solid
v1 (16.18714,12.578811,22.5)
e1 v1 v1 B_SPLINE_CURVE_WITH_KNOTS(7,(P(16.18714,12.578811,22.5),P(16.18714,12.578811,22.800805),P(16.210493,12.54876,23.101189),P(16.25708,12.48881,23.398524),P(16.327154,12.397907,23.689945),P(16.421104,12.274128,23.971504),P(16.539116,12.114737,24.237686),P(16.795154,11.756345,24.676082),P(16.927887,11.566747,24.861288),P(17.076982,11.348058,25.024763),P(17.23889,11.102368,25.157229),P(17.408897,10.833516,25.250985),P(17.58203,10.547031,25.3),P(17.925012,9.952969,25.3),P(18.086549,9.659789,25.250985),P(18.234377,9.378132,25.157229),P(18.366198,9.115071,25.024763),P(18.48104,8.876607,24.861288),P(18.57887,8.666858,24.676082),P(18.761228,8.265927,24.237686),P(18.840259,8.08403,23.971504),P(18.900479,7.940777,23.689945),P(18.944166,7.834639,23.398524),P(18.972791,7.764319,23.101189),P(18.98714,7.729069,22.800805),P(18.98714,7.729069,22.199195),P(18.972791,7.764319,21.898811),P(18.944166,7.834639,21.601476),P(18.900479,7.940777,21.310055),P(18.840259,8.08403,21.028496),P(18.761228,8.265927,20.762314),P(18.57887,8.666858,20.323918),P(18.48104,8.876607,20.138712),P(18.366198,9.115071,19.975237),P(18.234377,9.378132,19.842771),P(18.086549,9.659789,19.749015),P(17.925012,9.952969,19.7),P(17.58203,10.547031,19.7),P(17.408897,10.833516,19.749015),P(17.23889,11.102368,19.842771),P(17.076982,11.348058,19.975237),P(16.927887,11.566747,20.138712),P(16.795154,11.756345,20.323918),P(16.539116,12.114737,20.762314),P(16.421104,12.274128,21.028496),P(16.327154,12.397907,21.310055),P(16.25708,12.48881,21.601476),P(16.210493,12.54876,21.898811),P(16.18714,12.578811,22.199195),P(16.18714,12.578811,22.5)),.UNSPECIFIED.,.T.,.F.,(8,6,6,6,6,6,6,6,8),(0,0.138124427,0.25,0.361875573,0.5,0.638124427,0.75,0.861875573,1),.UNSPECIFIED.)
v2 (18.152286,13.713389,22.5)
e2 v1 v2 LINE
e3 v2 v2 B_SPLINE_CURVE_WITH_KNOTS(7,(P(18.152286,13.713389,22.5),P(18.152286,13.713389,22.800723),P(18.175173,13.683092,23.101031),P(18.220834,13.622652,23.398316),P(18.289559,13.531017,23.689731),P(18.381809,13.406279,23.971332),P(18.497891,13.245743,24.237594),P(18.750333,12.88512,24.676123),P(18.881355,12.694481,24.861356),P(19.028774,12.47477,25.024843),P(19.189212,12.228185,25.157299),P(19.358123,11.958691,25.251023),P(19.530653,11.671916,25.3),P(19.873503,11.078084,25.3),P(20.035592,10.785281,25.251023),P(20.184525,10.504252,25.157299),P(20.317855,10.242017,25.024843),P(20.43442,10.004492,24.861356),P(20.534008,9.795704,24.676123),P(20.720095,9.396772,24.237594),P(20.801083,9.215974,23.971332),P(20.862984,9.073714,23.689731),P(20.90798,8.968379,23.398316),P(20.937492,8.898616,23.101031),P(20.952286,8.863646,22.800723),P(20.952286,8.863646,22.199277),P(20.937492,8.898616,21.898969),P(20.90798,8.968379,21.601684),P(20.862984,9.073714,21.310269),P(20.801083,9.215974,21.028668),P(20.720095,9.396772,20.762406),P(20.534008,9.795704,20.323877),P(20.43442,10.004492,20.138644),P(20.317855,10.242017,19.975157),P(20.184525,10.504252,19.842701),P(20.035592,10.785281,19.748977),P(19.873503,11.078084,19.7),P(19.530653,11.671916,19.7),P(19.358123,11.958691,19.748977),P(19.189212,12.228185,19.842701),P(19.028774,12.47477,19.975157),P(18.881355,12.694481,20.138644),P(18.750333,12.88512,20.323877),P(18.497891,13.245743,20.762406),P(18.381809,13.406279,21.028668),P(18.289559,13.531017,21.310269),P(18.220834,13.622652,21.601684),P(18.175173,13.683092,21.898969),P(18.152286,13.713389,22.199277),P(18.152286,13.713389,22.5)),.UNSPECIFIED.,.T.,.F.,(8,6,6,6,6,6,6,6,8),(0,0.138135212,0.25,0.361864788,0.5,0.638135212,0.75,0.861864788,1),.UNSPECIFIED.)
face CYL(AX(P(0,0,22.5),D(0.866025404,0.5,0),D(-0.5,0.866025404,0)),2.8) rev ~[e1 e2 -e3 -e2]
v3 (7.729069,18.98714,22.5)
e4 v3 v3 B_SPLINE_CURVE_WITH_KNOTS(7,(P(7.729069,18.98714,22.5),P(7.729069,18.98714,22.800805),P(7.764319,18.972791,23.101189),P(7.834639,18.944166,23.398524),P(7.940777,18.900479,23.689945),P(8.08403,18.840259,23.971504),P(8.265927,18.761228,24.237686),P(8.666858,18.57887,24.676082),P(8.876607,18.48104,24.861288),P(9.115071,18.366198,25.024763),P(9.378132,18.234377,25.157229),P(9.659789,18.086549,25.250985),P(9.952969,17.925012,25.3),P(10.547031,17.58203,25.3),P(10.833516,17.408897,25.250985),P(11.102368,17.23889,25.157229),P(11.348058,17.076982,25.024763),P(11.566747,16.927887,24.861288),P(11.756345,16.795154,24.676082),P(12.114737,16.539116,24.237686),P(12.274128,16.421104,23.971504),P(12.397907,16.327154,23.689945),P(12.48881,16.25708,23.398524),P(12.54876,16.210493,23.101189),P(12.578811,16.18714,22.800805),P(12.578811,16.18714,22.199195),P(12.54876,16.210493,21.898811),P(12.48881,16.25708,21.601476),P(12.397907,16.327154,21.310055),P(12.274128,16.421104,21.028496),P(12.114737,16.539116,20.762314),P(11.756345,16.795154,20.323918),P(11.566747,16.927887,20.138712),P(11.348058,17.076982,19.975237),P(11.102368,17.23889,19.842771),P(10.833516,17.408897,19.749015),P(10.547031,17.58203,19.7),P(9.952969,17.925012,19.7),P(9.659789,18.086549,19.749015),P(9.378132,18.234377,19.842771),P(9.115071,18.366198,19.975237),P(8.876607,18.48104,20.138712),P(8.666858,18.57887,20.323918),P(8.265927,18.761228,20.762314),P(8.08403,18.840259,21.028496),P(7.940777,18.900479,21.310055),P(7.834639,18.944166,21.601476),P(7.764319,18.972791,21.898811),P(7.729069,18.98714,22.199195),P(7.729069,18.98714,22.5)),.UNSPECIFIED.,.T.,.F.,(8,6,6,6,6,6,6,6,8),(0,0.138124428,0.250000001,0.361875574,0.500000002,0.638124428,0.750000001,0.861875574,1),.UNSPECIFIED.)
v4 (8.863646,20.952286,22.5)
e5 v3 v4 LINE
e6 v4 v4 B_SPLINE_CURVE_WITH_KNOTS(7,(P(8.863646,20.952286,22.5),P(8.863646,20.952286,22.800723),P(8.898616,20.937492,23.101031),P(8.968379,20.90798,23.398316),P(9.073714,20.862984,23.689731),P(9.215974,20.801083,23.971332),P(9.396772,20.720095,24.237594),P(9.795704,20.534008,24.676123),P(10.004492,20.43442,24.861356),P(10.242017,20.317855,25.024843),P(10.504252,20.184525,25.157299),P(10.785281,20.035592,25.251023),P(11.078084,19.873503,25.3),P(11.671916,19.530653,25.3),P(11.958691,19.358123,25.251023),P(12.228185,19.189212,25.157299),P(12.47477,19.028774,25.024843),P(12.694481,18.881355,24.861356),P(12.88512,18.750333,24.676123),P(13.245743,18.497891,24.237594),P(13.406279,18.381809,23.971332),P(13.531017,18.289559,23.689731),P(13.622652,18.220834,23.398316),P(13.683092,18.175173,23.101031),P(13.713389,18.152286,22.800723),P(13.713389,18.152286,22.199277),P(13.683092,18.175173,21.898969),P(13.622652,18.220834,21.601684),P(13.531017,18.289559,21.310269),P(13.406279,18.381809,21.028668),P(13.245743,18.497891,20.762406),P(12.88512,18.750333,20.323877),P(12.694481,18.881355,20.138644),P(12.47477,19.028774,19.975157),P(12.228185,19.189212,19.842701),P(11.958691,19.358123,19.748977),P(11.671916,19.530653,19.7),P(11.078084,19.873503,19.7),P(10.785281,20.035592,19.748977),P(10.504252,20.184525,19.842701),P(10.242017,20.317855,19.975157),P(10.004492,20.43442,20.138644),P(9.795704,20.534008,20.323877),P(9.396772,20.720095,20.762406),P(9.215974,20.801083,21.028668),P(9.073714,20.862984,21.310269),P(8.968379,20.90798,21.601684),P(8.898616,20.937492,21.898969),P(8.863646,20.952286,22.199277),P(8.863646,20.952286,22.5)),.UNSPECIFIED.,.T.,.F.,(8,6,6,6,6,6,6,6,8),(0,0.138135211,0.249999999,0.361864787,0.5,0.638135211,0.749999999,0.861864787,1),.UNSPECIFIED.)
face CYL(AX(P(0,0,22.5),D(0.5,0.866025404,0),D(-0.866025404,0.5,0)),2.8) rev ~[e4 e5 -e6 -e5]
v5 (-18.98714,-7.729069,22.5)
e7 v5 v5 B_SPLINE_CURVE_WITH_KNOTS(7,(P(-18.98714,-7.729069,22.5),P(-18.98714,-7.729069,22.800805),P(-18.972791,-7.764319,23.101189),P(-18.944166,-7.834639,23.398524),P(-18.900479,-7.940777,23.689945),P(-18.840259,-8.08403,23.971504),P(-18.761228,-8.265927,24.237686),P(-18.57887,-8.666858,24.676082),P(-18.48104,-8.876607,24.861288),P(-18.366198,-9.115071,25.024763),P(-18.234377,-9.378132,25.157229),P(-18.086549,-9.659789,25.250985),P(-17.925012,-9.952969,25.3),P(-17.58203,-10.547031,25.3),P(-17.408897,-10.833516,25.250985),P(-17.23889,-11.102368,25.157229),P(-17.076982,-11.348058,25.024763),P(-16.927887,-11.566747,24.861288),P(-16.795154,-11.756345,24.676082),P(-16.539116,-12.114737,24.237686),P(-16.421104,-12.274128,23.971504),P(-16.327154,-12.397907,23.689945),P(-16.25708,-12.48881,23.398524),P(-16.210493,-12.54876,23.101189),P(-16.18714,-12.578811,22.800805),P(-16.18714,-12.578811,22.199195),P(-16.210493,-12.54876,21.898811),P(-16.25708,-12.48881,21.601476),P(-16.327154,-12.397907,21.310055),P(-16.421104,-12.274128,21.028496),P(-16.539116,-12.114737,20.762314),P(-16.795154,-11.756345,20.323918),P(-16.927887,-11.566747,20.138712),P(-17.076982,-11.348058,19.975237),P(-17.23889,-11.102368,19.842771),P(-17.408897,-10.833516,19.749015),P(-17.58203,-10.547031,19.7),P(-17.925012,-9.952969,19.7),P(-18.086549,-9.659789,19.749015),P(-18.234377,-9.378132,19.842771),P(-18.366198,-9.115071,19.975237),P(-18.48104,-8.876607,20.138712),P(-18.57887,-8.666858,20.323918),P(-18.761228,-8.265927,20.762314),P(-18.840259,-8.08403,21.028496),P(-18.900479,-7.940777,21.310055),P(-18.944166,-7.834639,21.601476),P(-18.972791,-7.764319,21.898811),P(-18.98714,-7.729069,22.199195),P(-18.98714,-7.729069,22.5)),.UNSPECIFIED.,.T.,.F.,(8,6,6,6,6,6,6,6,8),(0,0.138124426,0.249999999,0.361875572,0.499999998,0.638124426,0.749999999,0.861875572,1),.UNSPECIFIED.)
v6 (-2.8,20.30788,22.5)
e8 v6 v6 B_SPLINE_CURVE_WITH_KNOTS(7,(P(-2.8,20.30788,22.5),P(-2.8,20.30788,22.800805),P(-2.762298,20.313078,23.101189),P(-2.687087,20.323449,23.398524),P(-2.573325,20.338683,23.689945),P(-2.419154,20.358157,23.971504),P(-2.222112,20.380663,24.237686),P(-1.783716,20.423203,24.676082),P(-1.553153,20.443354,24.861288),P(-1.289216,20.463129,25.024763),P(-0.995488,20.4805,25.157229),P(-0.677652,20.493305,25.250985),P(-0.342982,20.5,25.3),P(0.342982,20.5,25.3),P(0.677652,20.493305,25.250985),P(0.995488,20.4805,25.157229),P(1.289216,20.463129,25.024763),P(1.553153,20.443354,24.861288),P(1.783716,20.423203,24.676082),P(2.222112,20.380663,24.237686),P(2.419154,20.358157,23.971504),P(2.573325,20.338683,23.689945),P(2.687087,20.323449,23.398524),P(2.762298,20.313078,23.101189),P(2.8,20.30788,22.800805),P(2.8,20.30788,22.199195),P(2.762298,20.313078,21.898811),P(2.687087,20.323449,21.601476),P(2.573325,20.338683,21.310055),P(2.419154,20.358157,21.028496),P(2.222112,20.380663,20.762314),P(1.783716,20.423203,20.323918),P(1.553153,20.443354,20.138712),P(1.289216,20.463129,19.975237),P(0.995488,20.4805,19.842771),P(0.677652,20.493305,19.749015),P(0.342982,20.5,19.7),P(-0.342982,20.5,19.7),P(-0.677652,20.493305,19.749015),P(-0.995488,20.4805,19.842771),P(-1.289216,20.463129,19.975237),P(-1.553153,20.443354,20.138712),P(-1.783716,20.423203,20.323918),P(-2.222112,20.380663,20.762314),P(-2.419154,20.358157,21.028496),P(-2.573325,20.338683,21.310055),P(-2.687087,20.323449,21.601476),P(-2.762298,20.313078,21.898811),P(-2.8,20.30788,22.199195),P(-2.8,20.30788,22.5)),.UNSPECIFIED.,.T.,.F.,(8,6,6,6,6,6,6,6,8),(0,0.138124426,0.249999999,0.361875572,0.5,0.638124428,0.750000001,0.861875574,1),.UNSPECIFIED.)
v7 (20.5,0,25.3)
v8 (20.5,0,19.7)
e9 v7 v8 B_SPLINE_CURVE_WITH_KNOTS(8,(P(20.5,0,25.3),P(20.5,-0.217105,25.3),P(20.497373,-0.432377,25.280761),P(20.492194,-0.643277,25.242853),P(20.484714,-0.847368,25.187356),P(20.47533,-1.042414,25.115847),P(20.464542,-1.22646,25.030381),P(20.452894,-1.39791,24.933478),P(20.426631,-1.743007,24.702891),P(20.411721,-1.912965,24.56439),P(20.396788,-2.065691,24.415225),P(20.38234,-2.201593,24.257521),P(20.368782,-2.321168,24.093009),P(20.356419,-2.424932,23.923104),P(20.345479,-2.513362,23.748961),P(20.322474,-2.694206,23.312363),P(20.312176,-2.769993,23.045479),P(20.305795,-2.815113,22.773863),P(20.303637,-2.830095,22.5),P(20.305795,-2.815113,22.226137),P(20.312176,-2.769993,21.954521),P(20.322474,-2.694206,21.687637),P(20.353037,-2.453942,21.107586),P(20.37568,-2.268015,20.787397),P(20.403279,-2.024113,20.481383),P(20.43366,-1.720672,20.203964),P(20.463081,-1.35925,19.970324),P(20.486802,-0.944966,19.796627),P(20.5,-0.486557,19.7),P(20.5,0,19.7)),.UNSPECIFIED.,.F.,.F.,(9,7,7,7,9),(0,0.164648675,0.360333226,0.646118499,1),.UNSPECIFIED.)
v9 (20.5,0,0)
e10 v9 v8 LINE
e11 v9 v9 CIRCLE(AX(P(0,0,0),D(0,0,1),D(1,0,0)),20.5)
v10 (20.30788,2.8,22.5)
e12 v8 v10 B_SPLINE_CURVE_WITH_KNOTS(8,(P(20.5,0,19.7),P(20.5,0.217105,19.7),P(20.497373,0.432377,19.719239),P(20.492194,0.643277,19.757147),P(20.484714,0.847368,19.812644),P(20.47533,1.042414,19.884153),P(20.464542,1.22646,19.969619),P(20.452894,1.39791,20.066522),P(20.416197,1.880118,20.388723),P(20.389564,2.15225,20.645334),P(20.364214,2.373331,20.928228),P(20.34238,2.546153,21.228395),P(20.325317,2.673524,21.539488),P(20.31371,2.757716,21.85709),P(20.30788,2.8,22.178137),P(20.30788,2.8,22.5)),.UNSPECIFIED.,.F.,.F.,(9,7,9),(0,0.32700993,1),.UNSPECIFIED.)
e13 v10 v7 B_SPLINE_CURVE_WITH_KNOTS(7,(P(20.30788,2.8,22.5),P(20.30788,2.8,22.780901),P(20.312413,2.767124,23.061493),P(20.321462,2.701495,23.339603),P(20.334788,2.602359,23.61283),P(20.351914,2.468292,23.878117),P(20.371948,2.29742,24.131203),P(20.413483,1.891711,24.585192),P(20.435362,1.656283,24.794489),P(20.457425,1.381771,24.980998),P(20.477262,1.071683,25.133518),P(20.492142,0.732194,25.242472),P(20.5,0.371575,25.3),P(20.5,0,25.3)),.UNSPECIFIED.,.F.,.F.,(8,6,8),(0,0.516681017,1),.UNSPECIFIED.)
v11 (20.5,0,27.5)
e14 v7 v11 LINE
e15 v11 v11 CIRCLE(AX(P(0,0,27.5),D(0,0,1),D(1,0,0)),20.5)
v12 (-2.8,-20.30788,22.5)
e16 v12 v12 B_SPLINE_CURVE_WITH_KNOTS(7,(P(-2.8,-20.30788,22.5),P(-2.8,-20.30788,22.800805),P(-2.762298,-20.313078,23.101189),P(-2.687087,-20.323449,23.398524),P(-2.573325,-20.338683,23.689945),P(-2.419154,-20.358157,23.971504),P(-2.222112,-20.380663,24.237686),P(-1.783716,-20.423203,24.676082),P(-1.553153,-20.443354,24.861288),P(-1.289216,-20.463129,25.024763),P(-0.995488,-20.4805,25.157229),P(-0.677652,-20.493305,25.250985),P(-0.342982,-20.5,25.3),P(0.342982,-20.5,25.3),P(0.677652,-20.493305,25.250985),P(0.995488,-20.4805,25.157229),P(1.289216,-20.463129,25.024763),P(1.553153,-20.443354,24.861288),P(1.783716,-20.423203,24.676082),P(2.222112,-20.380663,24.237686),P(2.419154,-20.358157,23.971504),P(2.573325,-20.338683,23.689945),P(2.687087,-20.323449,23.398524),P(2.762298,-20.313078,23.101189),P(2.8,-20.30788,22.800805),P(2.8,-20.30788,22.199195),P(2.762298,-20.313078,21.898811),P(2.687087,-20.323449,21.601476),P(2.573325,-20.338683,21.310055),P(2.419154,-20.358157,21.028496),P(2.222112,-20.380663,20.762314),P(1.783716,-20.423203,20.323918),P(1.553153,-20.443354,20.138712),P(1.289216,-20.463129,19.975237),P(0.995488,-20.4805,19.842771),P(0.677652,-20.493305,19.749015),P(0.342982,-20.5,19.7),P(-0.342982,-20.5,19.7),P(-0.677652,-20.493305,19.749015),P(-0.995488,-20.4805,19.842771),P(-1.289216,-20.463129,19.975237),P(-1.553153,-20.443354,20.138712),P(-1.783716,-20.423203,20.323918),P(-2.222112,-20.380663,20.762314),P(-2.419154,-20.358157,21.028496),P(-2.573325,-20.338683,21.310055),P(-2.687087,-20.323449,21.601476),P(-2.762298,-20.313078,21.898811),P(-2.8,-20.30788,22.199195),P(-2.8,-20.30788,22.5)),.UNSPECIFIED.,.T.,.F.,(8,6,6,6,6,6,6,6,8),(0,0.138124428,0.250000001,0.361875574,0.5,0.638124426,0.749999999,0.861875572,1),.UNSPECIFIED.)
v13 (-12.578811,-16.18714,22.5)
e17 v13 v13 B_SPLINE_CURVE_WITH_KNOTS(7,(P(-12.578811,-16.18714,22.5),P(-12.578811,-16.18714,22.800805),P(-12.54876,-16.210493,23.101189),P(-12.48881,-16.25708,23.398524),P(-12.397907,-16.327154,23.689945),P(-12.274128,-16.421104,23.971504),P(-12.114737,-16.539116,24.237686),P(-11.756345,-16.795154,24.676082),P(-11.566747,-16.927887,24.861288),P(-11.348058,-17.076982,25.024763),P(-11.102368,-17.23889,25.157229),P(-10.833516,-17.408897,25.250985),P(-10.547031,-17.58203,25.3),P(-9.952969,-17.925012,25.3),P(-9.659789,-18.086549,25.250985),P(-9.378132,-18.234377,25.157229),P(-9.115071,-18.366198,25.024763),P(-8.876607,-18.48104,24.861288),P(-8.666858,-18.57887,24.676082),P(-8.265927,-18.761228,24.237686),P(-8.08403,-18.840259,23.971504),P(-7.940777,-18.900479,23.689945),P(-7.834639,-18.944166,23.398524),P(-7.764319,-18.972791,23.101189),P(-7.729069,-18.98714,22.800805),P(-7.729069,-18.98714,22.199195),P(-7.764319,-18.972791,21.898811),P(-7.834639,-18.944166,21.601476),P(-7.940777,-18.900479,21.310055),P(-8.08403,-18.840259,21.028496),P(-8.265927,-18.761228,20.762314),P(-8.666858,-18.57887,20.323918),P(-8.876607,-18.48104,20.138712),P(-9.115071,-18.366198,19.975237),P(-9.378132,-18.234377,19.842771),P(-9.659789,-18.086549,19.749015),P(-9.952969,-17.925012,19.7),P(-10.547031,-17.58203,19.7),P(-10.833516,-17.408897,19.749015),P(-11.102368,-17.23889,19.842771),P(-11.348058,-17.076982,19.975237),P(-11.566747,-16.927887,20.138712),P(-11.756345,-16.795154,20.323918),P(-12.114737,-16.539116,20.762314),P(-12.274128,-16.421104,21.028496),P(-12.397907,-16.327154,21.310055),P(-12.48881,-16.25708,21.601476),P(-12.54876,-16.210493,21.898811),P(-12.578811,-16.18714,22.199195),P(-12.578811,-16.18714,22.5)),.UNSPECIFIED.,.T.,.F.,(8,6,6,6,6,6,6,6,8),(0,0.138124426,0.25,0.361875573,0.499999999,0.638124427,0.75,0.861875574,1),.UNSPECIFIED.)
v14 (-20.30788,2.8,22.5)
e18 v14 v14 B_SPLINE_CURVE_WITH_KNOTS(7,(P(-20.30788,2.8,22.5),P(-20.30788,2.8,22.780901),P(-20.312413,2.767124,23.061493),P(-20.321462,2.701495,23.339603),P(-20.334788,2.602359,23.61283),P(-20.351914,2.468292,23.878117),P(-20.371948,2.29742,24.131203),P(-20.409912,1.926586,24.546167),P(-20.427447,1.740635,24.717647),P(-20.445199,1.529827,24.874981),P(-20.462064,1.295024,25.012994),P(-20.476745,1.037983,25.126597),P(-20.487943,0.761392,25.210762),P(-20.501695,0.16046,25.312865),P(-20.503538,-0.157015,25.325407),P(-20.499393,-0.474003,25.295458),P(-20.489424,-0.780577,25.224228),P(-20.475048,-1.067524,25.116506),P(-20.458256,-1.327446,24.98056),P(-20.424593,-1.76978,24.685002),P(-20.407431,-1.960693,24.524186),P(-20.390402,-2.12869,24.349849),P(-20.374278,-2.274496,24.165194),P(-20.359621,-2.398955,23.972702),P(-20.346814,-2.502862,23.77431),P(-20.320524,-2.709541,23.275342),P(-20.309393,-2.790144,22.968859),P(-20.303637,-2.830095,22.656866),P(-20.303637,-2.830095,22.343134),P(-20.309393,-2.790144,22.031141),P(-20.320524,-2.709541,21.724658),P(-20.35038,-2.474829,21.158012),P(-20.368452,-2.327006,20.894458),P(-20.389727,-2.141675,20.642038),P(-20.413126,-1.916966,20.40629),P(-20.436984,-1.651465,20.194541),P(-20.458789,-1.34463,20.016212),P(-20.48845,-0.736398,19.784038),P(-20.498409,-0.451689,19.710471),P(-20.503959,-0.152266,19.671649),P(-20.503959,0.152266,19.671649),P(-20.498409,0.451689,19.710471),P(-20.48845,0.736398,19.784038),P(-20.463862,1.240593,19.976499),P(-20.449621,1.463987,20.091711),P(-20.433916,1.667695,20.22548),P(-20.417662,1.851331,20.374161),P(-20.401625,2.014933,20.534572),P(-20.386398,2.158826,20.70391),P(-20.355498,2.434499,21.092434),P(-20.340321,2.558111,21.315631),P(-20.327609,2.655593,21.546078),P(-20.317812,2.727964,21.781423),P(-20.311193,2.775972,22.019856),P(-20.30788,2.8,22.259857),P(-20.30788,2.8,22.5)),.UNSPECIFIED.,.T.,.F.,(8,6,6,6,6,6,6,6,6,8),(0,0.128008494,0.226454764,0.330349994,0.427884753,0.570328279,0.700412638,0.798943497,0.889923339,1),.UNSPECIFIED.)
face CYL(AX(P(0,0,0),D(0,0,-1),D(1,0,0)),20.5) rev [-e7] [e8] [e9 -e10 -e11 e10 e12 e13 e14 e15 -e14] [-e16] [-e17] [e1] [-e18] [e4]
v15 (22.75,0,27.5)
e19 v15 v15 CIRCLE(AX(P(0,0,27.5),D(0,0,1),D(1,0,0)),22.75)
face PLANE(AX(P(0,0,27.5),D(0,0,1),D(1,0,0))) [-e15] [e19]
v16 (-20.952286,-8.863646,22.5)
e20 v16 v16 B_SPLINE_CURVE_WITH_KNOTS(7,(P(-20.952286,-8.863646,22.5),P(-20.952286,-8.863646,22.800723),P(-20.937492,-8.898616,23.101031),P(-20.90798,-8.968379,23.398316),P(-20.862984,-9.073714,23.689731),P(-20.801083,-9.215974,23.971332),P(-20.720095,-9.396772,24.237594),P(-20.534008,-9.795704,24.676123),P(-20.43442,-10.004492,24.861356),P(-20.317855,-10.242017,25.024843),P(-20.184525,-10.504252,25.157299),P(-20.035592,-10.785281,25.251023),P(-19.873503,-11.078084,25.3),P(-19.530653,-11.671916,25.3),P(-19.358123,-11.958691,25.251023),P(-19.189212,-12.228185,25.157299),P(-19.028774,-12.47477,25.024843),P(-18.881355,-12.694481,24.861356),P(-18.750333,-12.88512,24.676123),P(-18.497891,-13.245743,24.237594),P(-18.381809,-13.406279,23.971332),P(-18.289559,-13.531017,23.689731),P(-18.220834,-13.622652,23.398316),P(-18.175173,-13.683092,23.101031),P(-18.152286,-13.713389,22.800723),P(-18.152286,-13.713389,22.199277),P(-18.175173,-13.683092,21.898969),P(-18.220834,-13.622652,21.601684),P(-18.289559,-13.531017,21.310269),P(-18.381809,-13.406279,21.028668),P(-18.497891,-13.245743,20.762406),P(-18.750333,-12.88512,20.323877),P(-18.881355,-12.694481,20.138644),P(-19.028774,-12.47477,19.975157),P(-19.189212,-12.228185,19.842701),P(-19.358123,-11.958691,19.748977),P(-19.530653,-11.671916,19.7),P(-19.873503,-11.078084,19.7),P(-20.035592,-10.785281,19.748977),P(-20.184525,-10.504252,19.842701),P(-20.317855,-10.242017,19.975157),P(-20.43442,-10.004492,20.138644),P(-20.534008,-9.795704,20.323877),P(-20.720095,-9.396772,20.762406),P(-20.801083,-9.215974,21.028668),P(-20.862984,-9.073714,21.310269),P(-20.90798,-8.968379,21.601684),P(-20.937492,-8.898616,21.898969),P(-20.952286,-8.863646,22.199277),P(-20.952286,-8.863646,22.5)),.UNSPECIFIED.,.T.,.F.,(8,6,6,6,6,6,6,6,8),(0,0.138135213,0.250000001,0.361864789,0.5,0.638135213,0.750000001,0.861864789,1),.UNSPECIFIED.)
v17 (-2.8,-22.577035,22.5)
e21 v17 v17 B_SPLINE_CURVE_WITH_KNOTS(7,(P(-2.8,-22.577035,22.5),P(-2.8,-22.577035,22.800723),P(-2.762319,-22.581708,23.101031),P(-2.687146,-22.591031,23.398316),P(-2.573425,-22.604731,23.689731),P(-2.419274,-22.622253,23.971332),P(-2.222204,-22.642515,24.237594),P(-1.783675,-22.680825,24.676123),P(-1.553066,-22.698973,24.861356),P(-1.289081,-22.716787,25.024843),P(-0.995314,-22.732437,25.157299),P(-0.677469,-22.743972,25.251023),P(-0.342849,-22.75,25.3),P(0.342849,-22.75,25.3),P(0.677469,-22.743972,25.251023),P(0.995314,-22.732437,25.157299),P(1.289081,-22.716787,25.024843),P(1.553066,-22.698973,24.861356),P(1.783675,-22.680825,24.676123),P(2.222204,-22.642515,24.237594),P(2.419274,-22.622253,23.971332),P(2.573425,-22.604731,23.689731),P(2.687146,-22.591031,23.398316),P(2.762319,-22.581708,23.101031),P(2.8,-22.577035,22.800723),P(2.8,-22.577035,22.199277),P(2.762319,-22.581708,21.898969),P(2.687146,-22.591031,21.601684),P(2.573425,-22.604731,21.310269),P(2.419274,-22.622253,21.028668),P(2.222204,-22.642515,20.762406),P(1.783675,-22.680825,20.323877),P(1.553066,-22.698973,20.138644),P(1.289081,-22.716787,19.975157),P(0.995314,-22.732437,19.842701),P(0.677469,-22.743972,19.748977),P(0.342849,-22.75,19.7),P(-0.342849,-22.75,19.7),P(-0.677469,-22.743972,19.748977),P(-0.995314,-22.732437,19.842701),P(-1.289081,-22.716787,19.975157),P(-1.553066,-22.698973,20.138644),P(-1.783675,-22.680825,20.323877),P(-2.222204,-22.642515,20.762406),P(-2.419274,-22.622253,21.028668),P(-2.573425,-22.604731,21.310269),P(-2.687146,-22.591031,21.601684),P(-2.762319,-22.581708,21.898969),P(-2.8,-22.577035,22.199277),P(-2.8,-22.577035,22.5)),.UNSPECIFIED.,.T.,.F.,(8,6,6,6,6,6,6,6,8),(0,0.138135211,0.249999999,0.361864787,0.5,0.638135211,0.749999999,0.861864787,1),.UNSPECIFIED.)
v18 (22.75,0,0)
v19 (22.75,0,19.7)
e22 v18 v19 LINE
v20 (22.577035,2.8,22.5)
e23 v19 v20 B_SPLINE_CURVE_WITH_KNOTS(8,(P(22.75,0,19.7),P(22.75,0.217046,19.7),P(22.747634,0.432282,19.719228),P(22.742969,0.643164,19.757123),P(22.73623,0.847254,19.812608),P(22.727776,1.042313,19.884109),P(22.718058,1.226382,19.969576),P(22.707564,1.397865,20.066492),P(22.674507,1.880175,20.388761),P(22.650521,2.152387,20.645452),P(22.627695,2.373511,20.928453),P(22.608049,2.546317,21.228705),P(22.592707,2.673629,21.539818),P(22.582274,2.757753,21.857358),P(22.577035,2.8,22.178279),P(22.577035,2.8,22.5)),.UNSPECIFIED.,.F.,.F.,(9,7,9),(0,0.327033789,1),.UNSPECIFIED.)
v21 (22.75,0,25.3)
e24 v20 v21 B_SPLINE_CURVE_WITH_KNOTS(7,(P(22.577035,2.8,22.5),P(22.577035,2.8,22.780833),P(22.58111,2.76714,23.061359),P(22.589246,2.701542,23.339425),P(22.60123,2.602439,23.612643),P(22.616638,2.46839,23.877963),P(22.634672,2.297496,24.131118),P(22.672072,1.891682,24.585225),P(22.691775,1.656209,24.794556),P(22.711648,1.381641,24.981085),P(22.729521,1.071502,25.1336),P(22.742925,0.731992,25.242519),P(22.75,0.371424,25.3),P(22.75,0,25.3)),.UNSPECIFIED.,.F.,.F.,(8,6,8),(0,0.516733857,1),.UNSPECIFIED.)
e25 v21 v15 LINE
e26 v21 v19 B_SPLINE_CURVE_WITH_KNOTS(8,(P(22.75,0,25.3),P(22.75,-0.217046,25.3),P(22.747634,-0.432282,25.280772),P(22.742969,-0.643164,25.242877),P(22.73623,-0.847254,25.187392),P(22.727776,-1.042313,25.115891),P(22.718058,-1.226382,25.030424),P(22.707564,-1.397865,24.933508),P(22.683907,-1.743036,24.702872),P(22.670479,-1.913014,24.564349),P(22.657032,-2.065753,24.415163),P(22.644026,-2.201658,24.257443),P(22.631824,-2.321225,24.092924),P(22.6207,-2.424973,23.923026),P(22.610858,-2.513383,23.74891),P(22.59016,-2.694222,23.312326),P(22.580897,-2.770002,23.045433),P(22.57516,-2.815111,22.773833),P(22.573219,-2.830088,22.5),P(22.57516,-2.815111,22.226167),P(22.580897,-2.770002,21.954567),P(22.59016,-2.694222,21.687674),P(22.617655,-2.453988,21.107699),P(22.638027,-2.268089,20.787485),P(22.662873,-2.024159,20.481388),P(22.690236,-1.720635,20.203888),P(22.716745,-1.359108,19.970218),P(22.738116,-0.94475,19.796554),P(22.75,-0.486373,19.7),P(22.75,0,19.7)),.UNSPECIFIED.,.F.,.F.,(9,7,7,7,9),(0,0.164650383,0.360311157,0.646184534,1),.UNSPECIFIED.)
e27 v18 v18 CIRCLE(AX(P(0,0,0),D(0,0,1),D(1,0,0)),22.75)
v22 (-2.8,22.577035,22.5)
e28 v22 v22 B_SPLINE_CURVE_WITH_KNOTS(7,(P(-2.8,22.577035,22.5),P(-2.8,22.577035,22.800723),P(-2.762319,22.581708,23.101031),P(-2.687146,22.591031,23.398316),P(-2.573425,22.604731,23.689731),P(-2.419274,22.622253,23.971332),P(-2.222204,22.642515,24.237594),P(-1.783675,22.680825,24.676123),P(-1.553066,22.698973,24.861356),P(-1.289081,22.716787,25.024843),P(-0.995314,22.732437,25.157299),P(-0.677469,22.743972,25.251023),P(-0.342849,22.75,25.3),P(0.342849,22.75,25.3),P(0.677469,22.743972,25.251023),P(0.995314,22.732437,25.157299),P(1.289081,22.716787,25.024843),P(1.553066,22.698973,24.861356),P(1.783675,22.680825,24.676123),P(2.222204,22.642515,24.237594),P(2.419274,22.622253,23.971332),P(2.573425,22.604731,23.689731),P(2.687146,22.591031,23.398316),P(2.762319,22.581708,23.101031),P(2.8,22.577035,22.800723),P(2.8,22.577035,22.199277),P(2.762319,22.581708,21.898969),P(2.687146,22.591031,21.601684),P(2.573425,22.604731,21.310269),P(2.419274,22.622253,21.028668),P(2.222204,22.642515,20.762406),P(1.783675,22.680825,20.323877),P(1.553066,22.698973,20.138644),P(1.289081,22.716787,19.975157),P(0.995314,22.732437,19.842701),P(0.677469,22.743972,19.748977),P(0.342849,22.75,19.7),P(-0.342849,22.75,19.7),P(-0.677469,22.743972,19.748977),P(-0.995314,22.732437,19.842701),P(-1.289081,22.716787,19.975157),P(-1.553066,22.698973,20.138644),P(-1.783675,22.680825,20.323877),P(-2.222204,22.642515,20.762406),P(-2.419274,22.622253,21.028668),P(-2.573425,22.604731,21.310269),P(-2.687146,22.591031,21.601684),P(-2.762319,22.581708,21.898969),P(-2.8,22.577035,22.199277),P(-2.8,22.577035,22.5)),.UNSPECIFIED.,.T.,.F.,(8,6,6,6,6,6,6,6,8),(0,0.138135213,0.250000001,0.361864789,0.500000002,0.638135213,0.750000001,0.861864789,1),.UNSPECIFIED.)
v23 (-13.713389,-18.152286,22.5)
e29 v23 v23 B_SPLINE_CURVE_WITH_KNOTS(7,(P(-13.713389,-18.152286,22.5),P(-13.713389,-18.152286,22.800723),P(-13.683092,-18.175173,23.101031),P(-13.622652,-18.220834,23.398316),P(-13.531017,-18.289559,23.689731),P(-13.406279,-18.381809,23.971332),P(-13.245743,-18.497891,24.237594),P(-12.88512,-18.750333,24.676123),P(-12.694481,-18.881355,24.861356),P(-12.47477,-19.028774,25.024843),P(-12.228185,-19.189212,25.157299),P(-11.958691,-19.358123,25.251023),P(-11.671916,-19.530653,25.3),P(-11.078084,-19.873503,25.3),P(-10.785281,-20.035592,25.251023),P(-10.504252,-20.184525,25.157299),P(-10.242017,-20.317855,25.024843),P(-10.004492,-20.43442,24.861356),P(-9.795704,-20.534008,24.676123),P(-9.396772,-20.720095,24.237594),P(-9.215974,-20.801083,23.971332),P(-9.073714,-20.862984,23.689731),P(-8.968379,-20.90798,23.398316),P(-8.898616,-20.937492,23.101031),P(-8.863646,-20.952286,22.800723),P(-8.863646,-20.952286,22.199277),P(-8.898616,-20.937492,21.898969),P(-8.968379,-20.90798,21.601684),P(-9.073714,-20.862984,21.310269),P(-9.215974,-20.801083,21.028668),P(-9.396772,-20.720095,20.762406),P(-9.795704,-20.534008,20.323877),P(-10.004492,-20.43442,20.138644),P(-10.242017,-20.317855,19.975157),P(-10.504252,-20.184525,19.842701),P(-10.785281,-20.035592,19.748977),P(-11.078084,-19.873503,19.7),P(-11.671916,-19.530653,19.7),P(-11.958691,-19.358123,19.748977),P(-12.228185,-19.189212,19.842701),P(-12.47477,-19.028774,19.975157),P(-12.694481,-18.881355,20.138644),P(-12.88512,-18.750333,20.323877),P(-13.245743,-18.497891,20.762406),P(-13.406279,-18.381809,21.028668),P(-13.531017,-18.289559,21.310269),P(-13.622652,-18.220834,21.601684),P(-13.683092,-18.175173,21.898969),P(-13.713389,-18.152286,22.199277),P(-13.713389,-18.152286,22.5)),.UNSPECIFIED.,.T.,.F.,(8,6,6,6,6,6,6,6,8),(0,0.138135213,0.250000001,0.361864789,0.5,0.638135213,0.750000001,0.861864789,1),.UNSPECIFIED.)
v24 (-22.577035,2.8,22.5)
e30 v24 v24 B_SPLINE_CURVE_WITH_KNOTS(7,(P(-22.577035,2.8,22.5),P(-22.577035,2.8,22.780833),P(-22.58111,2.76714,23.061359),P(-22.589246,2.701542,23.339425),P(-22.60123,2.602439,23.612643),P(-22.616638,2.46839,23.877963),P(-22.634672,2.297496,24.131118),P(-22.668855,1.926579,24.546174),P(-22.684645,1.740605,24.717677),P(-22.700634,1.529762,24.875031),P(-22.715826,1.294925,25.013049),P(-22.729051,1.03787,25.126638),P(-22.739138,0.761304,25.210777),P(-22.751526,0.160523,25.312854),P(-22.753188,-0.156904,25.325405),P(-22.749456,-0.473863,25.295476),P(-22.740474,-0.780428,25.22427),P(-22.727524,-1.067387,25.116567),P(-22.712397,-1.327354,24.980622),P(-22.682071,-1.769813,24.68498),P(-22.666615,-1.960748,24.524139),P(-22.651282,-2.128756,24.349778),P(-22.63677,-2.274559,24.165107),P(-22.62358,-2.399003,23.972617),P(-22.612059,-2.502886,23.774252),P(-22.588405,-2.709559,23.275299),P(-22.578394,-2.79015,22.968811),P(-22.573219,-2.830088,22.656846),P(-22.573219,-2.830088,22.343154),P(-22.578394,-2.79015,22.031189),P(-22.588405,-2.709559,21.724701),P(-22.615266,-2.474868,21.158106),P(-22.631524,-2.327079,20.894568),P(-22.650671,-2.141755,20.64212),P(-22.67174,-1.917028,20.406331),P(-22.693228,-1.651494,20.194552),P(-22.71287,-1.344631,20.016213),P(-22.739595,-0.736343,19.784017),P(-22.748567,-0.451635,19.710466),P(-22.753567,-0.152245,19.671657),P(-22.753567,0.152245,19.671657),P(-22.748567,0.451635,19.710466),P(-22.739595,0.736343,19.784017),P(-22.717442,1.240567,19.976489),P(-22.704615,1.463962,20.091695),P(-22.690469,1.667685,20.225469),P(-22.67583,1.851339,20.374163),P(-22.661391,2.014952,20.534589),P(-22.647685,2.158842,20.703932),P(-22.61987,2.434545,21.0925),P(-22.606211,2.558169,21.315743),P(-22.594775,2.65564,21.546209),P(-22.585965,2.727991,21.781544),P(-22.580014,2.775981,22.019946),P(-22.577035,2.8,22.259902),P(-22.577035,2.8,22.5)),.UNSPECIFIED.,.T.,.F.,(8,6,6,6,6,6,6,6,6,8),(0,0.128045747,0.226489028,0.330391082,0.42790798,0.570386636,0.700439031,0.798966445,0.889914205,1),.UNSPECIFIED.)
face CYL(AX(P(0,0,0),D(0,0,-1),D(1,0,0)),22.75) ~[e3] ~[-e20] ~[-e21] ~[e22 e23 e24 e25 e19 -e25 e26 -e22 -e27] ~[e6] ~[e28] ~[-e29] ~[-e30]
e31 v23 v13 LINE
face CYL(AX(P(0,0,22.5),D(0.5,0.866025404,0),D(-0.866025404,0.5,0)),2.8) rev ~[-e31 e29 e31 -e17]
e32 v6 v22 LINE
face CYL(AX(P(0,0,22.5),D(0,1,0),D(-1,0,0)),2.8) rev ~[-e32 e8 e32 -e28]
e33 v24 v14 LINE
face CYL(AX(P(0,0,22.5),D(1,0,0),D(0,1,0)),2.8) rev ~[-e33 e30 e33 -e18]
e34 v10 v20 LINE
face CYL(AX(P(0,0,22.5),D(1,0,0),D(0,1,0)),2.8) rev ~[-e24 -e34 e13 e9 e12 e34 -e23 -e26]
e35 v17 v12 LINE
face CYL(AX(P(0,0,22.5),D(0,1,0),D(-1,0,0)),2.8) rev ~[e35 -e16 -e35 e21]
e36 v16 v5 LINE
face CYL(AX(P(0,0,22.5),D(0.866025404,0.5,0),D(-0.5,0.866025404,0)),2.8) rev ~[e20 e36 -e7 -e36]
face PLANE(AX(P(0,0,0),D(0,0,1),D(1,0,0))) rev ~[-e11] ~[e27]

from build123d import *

# Parameters (mm, degrees)
F0_R     = 22.75
F0_R_2   = 20.5
F1_DEPTH = 27.5
F2_R     = 2.8
F3_DEPTH = 25
F4_COUNT = 4
F4_ANGLE = 90


with BuildPart() as f1:
    # F0 (on Top) → F1 (new body)
    with BuildSketch(Plane.XY):
        Circle(F0_R)
        Circle(F0_R_2, mode=Mode.SUBTRACT)
    extrude(amount=F1_DEPTH)


with BuildPart() as f3:
    # F2 (on Right) → F3 (new body, symmetric)
    with BuildSketch(Plane.YZ):
        with Locations((0, 22.5)):
            Circle(F2_R)
    extrude(amount=F3_DEPTH, both=True)


with BuildPart() as f4_1:
    # F4: instance of F3
    add(f3.part.rotate(Axis((0, 0, 0), (0, 0, 1)), 1 * F4_ANGLE / (F4_COUNT - 1)))


with BuildPart() as f4_2:
    # F4: instance of F3
    add(f3.part.rotate(Axis((0, 0, 0), (0, 0, 1)), 2 * F4_ANGLE / (F4_COUNT - 1)))


with BuildPart() as f4_3:
    # F4: instance of F3
    add(f3.part.rotate(Axis((0, 0, 0), (0, 0, 1)), 3 * F4_ANGLE / (F4_COUNT - 1)))


with BuildPart() as f1_1:
    add(f1.part)

    # F5: cut F4_3, F4_2, F4_1, F3
    add(f4_3.part, mode=Mode.SUBTRACT)
    add(f4_2.part, mode=Mode.SUBTRACT)
    add(f4_1.part, mode=Mode.SUBTRACT)
    add(f3.part, mode=Mode.SUBTRACT)


solid = f1_1.part
